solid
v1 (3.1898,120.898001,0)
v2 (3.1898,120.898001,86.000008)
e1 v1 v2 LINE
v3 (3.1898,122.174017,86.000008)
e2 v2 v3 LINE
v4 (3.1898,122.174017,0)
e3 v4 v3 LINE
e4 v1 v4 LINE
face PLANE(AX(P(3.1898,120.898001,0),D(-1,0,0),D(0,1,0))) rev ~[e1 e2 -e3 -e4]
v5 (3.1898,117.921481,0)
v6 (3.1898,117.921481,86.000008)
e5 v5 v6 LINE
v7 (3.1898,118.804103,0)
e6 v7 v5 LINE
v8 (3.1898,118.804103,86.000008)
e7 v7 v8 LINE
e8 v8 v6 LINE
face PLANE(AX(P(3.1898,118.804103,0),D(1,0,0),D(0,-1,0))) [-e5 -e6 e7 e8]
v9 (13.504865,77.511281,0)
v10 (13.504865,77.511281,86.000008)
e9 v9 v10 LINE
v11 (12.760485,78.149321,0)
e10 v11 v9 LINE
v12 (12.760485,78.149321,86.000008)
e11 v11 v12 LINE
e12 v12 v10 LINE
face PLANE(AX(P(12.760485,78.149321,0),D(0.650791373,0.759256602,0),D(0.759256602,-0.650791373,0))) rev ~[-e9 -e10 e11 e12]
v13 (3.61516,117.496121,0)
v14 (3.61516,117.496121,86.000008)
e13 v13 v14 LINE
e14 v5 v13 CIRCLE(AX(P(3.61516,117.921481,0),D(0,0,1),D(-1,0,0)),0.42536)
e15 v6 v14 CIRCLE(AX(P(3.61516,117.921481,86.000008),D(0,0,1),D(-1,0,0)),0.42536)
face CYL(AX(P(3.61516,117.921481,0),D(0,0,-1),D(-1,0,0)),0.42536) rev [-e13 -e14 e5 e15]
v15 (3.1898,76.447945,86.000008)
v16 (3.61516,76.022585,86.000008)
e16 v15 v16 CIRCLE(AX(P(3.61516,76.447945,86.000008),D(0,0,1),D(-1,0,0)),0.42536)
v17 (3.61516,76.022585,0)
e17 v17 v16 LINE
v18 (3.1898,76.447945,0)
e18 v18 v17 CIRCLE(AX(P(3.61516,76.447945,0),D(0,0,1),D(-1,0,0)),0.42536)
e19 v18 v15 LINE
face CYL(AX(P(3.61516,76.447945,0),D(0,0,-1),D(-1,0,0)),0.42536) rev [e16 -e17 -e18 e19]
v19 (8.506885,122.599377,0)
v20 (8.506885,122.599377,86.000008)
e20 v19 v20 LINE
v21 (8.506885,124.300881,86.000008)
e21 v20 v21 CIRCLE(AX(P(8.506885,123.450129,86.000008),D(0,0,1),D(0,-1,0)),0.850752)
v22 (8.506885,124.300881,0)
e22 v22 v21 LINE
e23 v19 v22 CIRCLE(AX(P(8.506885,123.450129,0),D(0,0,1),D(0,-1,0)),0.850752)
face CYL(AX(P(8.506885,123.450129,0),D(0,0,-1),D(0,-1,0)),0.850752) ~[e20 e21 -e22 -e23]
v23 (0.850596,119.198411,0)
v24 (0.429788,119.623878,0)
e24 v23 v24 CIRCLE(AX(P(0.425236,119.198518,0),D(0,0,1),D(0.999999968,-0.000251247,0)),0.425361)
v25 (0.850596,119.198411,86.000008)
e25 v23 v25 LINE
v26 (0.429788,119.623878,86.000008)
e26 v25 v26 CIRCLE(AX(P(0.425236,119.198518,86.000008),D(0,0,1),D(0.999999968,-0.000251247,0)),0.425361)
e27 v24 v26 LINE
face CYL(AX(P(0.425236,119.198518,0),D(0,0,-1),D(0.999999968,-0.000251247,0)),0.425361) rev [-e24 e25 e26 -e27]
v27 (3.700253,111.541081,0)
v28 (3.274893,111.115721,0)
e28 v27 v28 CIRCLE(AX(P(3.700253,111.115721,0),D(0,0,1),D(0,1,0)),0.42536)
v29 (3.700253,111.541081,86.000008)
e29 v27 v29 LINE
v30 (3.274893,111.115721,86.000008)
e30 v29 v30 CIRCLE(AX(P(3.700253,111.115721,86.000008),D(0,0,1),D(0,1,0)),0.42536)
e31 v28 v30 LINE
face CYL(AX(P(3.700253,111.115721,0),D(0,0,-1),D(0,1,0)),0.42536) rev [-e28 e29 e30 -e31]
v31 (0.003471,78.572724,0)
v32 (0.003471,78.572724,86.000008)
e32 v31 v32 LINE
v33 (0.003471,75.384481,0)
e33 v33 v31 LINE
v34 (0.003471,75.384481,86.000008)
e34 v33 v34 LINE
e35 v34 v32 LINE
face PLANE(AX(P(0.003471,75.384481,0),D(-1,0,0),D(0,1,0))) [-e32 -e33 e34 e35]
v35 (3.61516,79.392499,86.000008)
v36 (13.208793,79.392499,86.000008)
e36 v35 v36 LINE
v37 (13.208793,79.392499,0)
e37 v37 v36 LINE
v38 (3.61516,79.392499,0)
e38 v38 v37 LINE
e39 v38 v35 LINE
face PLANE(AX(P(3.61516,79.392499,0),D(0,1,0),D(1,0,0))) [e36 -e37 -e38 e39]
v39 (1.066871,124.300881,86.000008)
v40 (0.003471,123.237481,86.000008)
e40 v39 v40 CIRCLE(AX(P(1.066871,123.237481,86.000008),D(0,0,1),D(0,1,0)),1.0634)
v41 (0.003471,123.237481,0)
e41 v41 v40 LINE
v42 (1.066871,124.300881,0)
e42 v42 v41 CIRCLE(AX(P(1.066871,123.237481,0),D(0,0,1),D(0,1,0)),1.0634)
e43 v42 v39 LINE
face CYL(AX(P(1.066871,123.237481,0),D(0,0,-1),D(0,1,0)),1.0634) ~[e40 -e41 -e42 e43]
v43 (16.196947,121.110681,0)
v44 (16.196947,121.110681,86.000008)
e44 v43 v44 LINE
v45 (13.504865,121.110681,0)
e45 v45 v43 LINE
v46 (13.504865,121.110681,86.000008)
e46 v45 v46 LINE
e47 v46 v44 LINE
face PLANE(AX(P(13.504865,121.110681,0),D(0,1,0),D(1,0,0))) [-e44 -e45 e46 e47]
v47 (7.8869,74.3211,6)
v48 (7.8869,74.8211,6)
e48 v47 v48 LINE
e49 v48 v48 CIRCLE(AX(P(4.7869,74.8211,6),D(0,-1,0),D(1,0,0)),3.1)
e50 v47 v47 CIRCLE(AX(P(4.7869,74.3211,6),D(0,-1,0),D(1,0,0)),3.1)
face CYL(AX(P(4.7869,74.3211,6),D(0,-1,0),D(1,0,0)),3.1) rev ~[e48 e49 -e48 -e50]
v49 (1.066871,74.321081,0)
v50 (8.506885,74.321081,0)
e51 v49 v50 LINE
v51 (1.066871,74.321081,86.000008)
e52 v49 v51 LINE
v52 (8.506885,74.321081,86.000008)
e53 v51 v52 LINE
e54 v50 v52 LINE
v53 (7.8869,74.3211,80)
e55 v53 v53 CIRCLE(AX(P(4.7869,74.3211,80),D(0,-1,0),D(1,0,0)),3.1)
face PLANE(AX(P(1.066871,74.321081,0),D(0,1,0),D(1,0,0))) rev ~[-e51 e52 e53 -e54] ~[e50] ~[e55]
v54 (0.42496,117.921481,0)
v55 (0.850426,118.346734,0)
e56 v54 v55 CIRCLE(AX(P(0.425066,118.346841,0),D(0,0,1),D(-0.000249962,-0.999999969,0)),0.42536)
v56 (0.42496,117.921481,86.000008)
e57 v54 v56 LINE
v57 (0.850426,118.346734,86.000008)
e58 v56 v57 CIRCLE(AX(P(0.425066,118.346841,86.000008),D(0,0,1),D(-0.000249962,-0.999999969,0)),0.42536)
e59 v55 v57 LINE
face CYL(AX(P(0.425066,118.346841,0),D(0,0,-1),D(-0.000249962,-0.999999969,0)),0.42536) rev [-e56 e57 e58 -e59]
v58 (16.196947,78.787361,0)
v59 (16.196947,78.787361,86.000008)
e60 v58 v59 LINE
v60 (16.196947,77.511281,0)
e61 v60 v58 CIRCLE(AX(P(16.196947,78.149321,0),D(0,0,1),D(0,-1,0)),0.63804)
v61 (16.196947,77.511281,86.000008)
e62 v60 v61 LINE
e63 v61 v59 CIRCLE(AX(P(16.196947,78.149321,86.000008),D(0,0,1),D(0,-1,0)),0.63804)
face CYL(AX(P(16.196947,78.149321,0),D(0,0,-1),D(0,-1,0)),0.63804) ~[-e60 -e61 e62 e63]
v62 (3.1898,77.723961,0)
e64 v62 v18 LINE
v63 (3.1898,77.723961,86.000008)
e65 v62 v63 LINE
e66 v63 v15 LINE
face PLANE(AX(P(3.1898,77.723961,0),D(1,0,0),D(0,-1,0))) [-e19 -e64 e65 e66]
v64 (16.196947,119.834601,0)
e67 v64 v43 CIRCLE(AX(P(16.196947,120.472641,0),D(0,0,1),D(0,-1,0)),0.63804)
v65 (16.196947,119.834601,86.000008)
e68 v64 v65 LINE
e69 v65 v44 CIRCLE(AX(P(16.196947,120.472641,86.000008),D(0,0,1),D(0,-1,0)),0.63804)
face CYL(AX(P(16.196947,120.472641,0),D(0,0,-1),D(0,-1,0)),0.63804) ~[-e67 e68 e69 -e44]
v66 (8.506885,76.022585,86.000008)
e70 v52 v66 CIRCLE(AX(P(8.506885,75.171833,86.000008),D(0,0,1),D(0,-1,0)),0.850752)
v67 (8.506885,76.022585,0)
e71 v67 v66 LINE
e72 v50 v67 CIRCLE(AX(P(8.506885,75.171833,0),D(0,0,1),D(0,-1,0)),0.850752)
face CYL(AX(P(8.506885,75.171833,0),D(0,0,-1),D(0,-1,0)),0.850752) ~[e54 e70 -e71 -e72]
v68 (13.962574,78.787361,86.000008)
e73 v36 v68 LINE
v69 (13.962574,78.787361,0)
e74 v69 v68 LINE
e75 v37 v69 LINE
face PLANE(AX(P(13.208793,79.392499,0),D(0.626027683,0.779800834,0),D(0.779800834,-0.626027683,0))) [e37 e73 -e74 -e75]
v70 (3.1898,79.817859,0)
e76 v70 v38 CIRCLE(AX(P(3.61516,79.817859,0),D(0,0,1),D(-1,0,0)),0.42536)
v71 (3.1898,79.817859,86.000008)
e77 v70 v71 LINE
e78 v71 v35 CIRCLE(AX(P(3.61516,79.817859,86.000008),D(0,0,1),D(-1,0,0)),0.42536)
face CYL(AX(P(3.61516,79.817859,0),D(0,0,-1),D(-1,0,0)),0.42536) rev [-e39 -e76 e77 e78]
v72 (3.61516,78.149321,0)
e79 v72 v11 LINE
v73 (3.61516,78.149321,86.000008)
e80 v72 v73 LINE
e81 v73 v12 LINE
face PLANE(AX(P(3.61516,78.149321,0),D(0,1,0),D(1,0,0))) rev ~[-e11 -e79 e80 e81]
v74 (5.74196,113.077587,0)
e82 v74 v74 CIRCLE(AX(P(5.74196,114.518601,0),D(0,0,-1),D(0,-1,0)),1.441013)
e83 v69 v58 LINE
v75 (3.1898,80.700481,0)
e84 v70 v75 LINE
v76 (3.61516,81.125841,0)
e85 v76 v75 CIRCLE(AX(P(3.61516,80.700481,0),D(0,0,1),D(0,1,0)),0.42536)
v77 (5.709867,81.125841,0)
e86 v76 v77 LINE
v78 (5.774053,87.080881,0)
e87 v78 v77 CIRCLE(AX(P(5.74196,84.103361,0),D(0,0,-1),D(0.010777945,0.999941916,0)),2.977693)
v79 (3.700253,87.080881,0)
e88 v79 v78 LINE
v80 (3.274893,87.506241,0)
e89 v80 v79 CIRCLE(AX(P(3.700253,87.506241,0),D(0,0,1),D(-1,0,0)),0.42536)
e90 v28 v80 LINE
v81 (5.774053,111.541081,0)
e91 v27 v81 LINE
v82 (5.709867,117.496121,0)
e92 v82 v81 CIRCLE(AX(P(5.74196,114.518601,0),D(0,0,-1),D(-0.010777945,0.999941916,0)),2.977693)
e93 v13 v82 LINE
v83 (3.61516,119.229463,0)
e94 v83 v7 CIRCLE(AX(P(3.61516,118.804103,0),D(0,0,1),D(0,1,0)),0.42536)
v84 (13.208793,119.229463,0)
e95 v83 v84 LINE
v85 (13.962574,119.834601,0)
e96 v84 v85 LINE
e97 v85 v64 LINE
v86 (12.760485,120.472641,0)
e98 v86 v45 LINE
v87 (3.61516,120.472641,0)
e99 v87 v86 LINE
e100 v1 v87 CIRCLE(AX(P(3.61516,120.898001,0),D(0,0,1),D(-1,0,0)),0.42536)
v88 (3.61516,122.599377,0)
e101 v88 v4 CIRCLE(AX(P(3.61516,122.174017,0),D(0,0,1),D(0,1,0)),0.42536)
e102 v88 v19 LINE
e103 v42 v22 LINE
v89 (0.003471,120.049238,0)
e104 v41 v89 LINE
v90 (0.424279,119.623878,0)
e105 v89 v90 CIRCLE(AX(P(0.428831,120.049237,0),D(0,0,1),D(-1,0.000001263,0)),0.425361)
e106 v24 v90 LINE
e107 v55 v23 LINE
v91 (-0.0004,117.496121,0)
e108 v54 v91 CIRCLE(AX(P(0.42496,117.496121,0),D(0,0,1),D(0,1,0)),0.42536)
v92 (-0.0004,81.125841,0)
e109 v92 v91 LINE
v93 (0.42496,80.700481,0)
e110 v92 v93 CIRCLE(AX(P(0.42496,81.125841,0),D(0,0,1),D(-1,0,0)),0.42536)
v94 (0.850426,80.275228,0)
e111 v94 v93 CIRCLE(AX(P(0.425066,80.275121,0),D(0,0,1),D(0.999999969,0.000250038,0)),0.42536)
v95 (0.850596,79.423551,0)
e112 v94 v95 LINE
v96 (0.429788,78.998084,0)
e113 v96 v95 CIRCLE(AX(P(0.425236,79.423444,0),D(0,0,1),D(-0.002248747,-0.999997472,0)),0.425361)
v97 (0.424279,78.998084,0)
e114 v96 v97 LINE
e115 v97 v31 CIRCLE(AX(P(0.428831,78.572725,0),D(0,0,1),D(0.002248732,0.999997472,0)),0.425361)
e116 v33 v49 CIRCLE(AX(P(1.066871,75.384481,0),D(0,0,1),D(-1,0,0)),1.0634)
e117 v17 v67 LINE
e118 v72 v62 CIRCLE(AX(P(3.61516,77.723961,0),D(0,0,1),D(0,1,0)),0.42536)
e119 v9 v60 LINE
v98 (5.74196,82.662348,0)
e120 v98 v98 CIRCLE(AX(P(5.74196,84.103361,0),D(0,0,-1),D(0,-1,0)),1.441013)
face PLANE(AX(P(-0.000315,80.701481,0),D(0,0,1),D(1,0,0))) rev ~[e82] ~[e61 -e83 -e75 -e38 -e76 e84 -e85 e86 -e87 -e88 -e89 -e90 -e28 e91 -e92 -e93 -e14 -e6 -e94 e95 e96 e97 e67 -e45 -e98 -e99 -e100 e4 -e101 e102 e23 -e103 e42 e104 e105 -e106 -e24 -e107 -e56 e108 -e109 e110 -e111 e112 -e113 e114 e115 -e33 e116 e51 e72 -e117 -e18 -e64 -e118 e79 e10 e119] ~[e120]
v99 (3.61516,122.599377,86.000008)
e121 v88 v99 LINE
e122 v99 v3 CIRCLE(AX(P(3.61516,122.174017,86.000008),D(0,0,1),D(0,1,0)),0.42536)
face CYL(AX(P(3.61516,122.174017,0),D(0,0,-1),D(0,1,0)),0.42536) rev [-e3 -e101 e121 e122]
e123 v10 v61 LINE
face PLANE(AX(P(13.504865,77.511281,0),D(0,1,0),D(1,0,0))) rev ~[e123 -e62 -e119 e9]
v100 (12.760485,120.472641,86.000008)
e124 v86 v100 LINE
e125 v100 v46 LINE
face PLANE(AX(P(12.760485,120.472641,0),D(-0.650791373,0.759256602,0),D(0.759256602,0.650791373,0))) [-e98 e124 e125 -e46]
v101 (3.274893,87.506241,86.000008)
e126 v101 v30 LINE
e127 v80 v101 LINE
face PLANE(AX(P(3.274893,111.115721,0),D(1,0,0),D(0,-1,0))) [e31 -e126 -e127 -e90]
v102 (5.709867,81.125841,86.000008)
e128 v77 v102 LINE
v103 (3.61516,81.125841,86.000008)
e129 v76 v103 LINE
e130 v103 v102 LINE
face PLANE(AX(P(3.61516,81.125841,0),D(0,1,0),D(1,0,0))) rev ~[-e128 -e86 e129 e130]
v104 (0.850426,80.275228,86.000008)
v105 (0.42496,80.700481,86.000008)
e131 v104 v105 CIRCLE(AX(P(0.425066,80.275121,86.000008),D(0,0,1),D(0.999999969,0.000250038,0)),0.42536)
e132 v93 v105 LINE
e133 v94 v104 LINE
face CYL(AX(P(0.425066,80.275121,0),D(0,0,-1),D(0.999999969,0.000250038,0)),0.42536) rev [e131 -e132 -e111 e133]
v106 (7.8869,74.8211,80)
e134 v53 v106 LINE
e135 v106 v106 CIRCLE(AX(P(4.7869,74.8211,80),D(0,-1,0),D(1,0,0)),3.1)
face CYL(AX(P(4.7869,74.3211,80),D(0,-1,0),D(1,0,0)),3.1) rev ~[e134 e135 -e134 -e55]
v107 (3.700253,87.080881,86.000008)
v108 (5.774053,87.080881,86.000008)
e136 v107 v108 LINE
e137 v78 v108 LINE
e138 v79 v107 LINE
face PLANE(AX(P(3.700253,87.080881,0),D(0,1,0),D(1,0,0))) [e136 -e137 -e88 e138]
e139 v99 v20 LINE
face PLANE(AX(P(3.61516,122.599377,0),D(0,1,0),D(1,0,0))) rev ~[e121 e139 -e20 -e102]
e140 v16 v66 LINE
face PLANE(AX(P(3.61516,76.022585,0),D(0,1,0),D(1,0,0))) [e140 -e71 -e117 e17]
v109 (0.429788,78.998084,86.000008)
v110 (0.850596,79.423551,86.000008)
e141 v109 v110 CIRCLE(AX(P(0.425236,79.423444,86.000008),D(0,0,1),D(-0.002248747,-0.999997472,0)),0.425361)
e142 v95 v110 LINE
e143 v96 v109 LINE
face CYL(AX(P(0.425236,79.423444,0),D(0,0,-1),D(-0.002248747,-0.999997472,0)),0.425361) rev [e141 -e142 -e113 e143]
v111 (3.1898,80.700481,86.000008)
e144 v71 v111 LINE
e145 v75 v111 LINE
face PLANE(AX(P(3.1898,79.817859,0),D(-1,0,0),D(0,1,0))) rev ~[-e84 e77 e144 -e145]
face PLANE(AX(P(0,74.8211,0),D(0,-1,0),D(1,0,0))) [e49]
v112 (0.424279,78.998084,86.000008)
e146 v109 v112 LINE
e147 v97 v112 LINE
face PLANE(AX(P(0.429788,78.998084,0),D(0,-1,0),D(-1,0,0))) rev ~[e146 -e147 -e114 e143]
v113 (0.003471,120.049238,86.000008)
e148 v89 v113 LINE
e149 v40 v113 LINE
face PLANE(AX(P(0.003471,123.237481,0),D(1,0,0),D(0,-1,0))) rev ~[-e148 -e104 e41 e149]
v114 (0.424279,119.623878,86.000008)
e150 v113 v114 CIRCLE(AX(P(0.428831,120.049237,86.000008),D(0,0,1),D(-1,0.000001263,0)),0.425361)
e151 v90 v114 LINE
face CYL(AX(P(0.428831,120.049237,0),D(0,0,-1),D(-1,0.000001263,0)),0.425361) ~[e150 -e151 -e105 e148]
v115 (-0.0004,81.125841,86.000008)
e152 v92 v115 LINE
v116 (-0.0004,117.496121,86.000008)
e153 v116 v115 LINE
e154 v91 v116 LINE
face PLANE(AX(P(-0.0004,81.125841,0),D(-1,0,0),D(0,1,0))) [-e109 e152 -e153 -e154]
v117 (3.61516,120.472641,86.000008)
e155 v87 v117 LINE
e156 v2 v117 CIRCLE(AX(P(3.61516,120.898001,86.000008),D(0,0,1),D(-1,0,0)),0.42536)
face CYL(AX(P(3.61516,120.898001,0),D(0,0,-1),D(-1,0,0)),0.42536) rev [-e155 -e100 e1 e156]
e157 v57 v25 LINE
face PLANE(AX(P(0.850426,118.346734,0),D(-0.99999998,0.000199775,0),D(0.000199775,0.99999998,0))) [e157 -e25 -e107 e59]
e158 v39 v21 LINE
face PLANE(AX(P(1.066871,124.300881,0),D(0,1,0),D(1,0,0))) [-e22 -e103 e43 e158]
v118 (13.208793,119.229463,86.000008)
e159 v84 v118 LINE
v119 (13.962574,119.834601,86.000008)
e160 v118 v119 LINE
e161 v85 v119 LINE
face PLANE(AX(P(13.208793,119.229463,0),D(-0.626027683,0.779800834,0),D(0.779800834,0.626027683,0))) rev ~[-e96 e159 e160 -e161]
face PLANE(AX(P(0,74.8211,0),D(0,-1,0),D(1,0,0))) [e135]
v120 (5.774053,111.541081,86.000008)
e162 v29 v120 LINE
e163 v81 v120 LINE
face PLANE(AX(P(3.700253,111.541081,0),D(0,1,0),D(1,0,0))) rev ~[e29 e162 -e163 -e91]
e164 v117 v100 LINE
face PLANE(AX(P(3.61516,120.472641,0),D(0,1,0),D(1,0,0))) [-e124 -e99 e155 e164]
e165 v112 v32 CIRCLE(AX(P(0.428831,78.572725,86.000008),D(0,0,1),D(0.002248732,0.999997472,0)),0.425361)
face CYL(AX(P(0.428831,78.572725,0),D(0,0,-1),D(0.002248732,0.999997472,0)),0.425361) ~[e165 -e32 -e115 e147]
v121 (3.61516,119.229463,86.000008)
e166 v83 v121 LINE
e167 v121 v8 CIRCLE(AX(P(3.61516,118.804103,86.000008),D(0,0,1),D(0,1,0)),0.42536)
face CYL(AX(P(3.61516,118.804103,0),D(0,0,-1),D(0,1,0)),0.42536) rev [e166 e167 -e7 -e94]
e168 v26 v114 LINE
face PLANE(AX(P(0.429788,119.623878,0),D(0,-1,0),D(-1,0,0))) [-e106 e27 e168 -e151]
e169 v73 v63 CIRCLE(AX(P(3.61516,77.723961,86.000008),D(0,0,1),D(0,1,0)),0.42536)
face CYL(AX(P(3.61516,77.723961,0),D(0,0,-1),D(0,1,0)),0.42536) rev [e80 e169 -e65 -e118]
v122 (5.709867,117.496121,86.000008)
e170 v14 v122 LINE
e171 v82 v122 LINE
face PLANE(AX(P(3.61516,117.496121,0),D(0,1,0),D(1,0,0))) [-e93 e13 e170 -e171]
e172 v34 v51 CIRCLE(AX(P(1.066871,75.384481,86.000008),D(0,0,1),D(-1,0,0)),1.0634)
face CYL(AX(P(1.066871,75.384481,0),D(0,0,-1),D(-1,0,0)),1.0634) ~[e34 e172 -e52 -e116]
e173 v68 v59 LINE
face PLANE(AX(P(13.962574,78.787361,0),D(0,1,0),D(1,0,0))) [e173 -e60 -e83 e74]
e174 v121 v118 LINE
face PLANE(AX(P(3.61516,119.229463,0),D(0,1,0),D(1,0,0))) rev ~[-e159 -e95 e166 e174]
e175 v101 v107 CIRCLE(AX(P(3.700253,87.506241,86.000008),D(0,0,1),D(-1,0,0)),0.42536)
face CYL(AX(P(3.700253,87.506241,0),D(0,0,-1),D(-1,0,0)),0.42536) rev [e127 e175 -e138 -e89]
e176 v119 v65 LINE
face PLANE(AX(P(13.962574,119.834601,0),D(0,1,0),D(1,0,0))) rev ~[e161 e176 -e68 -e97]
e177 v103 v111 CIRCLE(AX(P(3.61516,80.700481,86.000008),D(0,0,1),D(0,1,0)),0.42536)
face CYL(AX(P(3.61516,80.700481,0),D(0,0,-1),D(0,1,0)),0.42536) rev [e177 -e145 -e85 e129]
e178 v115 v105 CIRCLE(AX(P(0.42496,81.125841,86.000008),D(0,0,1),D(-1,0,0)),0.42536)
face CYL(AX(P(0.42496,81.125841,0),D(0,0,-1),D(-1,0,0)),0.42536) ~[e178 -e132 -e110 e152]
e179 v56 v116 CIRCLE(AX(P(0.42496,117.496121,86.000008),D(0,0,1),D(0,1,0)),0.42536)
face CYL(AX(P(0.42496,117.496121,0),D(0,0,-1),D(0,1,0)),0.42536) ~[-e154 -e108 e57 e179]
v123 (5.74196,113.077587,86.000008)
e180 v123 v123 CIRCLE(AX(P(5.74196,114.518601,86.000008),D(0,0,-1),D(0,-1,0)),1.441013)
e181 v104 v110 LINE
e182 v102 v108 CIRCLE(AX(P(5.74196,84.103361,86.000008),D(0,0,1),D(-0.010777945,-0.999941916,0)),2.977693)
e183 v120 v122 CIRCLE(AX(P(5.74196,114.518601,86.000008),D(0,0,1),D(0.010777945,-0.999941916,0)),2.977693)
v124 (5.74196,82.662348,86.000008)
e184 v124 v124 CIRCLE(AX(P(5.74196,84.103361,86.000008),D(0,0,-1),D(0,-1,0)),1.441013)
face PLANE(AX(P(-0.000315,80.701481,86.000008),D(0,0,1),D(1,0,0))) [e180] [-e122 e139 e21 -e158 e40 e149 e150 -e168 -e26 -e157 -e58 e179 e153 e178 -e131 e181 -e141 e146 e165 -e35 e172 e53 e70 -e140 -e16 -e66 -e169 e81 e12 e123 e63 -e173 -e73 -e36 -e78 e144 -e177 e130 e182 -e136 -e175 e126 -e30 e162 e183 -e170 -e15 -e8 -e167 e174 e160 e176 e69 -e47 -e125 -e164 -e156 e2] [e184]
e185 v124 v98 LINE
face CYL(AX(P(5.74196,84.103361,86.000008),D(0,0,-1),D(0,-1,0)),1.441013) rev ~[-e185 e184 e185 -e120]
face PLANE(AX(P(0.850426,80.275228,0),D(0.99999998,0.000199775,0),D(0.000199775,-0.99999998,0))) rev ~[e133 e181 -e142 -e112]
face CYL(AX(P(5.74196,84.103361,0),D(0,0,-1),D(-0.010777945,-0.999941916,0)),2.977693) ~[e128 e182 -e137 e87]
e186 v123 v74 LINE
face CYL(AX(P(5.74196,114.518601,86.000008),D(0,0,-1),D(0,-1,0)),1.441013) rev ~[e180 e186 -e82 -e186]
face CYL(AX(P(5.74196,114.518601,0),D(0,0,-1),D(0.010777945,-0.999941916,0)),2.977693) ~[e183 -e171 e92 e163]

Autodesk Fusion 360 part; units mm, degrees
sketch "Sketch1" plane through (0, 0, 0) normal (0, 0, 1) x (1, 0, 0)
  line L0 (36.0187, 148.7477) -> (36.0366, 148.794)
  line L1 (65.6521, 184) -> (76.1579, 184)
  line L2 (14.9996, 189) -> (14.9996, 194.9997)
  line L3 (-0.0194, 154.2247) -> (-0.0004, 154.2001)
  line L4 (-0.0302, 138.7537) -> (-0.0004, 138.7058)
  line L5 (-0.0004, 81.3672) -> (-0.0021, 81.3657)
  line L6 (15.3997, 143.0047) -> (15.3997, 102.5015)
  line L7 (-0.0004, 173.0047) -> (-0.0004, 102.5015)
  line L8 (2.0223, 183.0092) -> (1.9964, 183.0092)
  line L9 (1.9996, 175.0047) -> (2.0001, 175.0047)
  line L10 (4.0001, 177.0042) -> (4.0009, 181.0087)
  line L11 (0.0178, 200) -> (0.0178, 185.0092)
  arc A0 (0.0178, 185.0092) -> (2.0223, 183.0092) centre (2.0178, 185.0092) ccw
  arc A1 (4.0009, 181.0087) -> (1.9964, 183.0092) centre (2.0009, 181.0092) ccw
  line L12 (16.9996, 196.9997) -> (40, 196.9997)
  arc A2 (16.9996, 196.9997) -> (14.9996, 194.9997) centre (16.9996, 194.9997) ccw
  line L13 (16.9996, 187) -> (60, 187)
  arc A3 (14.9996, 189) -> (16.9996, 187) centre (16.9996, 189) ccw
  line L14 (63.5, 190) -> (76.1579, 190)
  line L15 (14.9996, 179.1547) -> (14.9996, 175.0047)
  arc A4 (16.9996, 181.1547) -> (14.9996, 179.1547) centre (16.9996, 179.1547) ccw
  line L16 (16.9996, 173.0047) -> (26.8487, 173.0047)
  arc A5 (14.9996, 175.0047) -> (16.9996, 173.0047) centre (16.9996, 175.0047) ccw
  arc A6 (2.0001, 175.0047) -> (4.0001, 177.0042) centre (2.0001, 177.0047) ccw
  arc A7 (1.9996, 175.0047) -> (-0.0004, 173.0047) centre (1.9996, 173.0047) ccw
  arc A8 (76.1579, 184) -> (76.1579, 190) centre (76.1579, 187) ccw
  line L17 (60, 187) -> (63.5, 190)
  line L18 (62.1079, 181.1547) -> (65.6521, 184)
  line L19 (17.3997, 145.0047) -> (27.1505, 145.0047)
  line L20 (27.4996, 145.0047) -> (27.5723, 145.0156)
  arc A9 (17.3997, 145.0047) -> (15.3997, 143.0047) centre (17.3997, 143.0047) ccw
  arc A10 (27.1505, 145.0047) -> (26.8487, 173.0047) centre (26.9996, 159.0047) ccw
  line L21 (-0.0004, 123.6359) -> (-0.0021, 123.6374)
  line L22 (5.0178, 205) -> (40, 205)
  arc A11 (5.0178, 205) -> (0.0178, 200) centre (5.0178, 200) ccw
  arc A12 (40, 196.9997) -> (40, 205) centre (40, 200.9999) ccw
  line L23 (16.9996, 181.1547) -> (62.1079, 181.1547)
  line L24 (27.4996, 29.9953) -> (27.5723, 29.9844)
  line L25 (16.9996, 1.9953) -> (26.8487, 1.9953)
  line L26 (16.9996, -12) -> (60, -12)
  line L27 (2.0223, -8.0092) -> (1.9964, -8.0092)
  line L28 (65.6521, -9) -> (76.1579, -9)
  arc A13 (1.9964, -8.0092) -> (4.0009, -6.0087) centre (2.0009, -6.0092) ccw
  line L29 (16.9996, -21.9997) -> (40, -21.9997)
  line L30 (1.9996, -0.0047) -> (2.0001, -0.0047)
  arc A14 (15.3997, 31.9953) -> (17.3997, 29.9953) centre (17.3997, 31.9953) ccw
  line L31 (36.0187, 26.2523) -> (36.0366, 26.206)
  arc A15 (0.0178, -25) -> (5.0178, -30) centre (5.0178, -25) ccw
  arc A16 (26.8487, 1.9953) -> (27.1505, 29.9953) centre (26.9996, 15.9953) ccw
  line L32 (4.0001, -2.0042) -> (4.0009, -6.0087)
  arc A17 (2.0223, -8.0092) -> (0.0178, -10.0092) centre (2.0178, -10.0092) ccw
  line L33 (16.9996, -6.1547) -> (62.1079, -6.1547)
  line L34 (5.0178, -30) -> (40, -30)
  arc A18 (16.9996, -12) -> (14.9996, -14) centre (16.9996, -14) ccw
  line L35 (14.9996, -4.1547) -> (14.9996, -0.0047)
  line L36 (63.5, -15) -> (76.1579, -15)
  arc A19 (40, -30) -> (40, -21.9997) centre (40, -25.9999) ccw
  arc A20 (76.1579, -15) -> (76.1579, -9) centre (76.1579, -12) ccw
  arc A21 (14.9996, -19.9997) -> (16.9996, -21.9997) centre (16.9996, -19.9997) ccw
  arc A22 (4.0001, -2.0042) -> (2.0001, -0.0047) centre (2.0001, -2.0047) ccw
  line L37 (-0.0004, 51.3641) -> (-0.0021, 51.3626)
  line L38 (17.3997, 29.9953) -> (27.1505, 29.9953)
  line L39 (60, -12) -> (63.5, -15)
  line L40 (-0.0004, 1.9953) -> (-0.0004, 72.4985)
  line L41 (0.0178, -25) -> (0.0178, -10.0092)
  line L42 (-0.0194, 20.7753) -> (-0.0004, 20.7999)
  line L43 (14.9996, -14) -> (14.9996, -19.9997)
  arc A23 (16.9996, 1.9953) -> (14.9996, -0.0047) centre (16.9996, -0.0047) ccw
  line L44 (62.1079, -6.1547) -> (65.6521, -9)
  line L45 (-0.0302, 36.2463) -> (-0.0004, 36.2942)
  arc A24 (-0.0004, 1.9953) -> (1.9996, -0.0047) centre (1.9996, 1.9953) ccw
  arc A25 (14.9996, -4.1547) -> (16.9996, -6.1547) centre (16.9996, -4.1547) ccw
  line L46 (15.3997, 31.9953) -> (15.3997, 72.4985)
  line L47 (-0.0004, 102.5015) -> (-0.0004, 72.4985)
  line L48 (15.3997, 102.5015) -> (15.3997, 72.4985)
  circle A26 centre (26.9996, 15.9953) radius 6.7755
  circle A27 centre (26.9996, 159.0047) radius 6.7755
  dimension "d8" = 2
  dimension "d9" = 2
  dimension "d11" = 2
  dimension "d13" = 2
  dimension "d18" = 2
  dimension "d19" = 2
  dimension "d27" = 2
  dimension "d28" = 2
  dimension "d34" = 3
  dimension "d35" = 2
  dimension "d40" = 5
  dimension "d41" = 4.0002
  dimension "d52" = 14.0008
  dimension "d55" = 235
  dimension "d57" = 14.0008
  dimension "d59" = 13.551
  dimension "d61" = 45.9953
  dimension "d62" = 45.9953
  dimension "d63" = 27
  dimension "d64" = 27
  dimension "d65" = 13.551
extrude "Extrude4" add sketch "Sketch1" along normal blind 404.3634 contours L1 L2 L6 L7 L8 L10 L11 A0 A1 L12 A2 L13 A3 L14 L15 A4 L16 A5 A6 A7 A8 L17 L18 L19 A9 A10 L22 A11 A12 L23 L25 L26 L27 L28 A13 L29 A14 A15 A16 L32 A17 L33 L34 A18 L35 L36 A19 A20 A21 A22 L38 L39 L40 L41 L43 A23 L44 A24 A25 L46 L47 L48 | A26 | A27
sketch "Sketch2" plane through (0, 0, 404.3634) normal (0, 0, 1) x (-1, 0, 0)
  line L0 (-17.3997, -145.0047) -> (-27.1505, -145.0047)
  arc A0 (-27.1505, -145.0047) -> (-26.8487, -173.0047) centre (-26.9996, -159.0047) ccw
  line L1 (-26.8487, -173.0047) -> (-16.9996, -173.0047)
  arc A1 (-14.9996, -175.0047) -> (-16.9996, -173.0047) centre (-16.9996, -175.0047) ccw
  line L2 (-14.9996, -175.0047) -> (-14.9996, -179.1547)
  arc A2 (-16.9996, -181.1547) -> (-14.9996, -179.1547) centre (-16.9996, -179.1547) ccw
  line L3 (-16.9996, -181.1547) -> (-62.1079, -181.1547)
  line L4 (-62.1079, -181.1547) -> (-65.6521, -184)
  line L5 (-65.6521, -184) -> (-76.1579, -184)
  arc A3 (-76.1579, -184) -> (-76.1579, -190) centre (-76.1579, -187) ccw
  line L6 (-76.1579, -190) -> (-63.5, -190)
  line L7 (-63.5, -190) -> (-60, -187)
  line L8 (-60, -187) -> (-16.9996, -187)
  arc A4 (-14.9996, -189) -> (-16.9996, -187) centre (-16.9996, -189) ccw
  line L9 (-14.9996, -189) -> (-14.9996, -194.9997)
  arc A5 (-16.9996, -196.9997) -> (-14.9996, -194.9997) centre (-16.9996, -194.9997) ccw
  line L10 (-16.9996, -196.9997) -> (-40, -196.9997)
  arc A6 (-40, -196.9997) -> (-40, -205) centre (-40, -200.9999) ccw
  line L11 (-40, -205) -> (-5.0178, -205)
  arc A7 (-5.0178, -205) -> (-0.0178, -200) centre (-5.0178, -200) ccw
  line L12 (-0.0178, -200) -> (-0.0178, -185.0092)
  arc A8 (-0.0178, -185.0092) -> (-2.0223, -183.0092) centre (-2.0178, -185.0092) ccw
  line L13 (-2.0223, -183.0092) -> (-1.9964, -183.0092)
  arc A9 (-4.0009, -181.0087) -> (-1.9964, -183.0092) centre (-2.0009, -181.0092) ccw
  line L14 (-4.0009, -181.0087) -> (-4.0001, -177.0042)
  arc A10 (-2.0001, -175.0047) -> (-4.0001, -177.0042) centre (-2.0001, -177.0047) ccw
  line L15 (-2.0001, -175.0047) -> (-1.9996, -175.0047)
  arc A11 (-1.9996, -175.0047) -> (0.0004, -173.0047) centre (-1.9996, -173.0047) ccw
  line L16 (0.0004, -173.0047) -> (0.0004, -102.5015)
  line L17 (0.0004, -102.5015) -> (0.0004, -72.4985)
  line L18 (0.0004, -72.4985) -> (0.0004, -1.9953)
  arc A12 (0.0004, -1.9953) -> (-1.9996, 0.0047) centre (-1.9996, -1.9953) ccw
  line L19 (-1.9996, 0.0047) -> (-2.0001, 0.0047)
  arc A13 (-4.0001, 2.0042) -> (-2.0001, 0.0047) centre (-2.0001, 2.0047) ccw
  line L20 (-4.0001, 2.0042) -> (-4.0009, 6.0087)
  arc A14 (-1.9964, 8.0092) -> (-4.0009, 6.0087) centre (-2.0009, 6.0092) ccw
  line L21 (-1.9964, 8.0092) -> (-2.0223, 8.0092)
  arc A15 (-2.0223, 8.0092) -> (-0.0178, 10.0092) centre (-2.0178, 10.0092) ccw
  line L22 (-0.0178, 10.0092) -> (-0.0178, 25)
  arc A16 (-0.0178, 25) -> (-5.0178, 30) centre (-5.0178, 25) ccw
  line L23 (-5.0178, 30) -> (-40, 30)
  arc A17 (-40, 30) -> (-40, 21.9997) centre (-40, 25.9999) ccw
  line L24 (-40, 21.9997) -> (-16.9996, 21.9997)
  arc A18 (-14.9996, 19.9997) -> (-16.9996, 21.9997) centre (-16.9996, 19.9997) ccw
  line L25 (-14.9996, 19.9997) -> (-14.9996, 14)
  arc A19 (-16.9996, 12) -> (-14.9996, 14) centre (-16.9996, 14) ccw
  line L26 (-16.9996, 12) -> (-60, 12)
  line L27 (-60, 12) -> (-63.5, 15)
  line L28 (-63.5, 15) -> (-76.1579, 15)
  arc A20 (-76.1579, 15) -> (-76.1579, 9) centre (-76.1579, 12) ccw
  line L29 (-76.1579, 9) -> (-65.6521, 9)
  line L30 (-65.6521, 9) -> (-62.1079, 6.1547)
  line L31 (-62.1079, 6.1547) -> (-16.9996, 6.1547)
  arc A21 (-14.9996, 4.1547) -> (-16.9996, 6.1547) centre (-16.9996, 4.1547) ccw
  line L32 (-14.9996, 4.1547) -> (-14.9996, 0.0047)
  arc A22 (-16.9996, -1.9953) -> (-14.9996, 0.0047) centre (-16.9996, 0.0047) ccw
  line L33 (-16.9996, -1.9953) -> (-26.8487, -1.9953)
  arc A23 (-26.8487, -1.9953) -> (-27.1505, -29.9953) centre (-26.9996, -15.9953) ccw
  line L34 (-27.1505, -29.9953) -> (-17.3997, -29.9953)
  arc A24 (-15.3997, -31.9953) -> (-17.3997, -29.9953) centre (-17.3997, -31.9953) ccw
  line L35 (-15.3997, -31.9953) -> (-15.3997, -143.0047)
  arc A25 (-17.3997, -145.0047) -> (-15.3997, -143.0047) centre (-17.3997, -143.0047) ccw
  circle A26 centre (-26.9996, -15.9953) radius 6.7755
  circle A27 centre (-26.9996, -159.0047) radius 6.7755
  dimension "d66" = 13.551
  dimension "d67" = 13.551
hole "Hole1" at (26.9996, 159.0047, 404.3634) direction (0, 0, -1) diameter 13.551 end through all
sketch "Sketch3" plane through (0, 0, 404.3634) normal (0, 0, 1) x (-1, 0, 0)
  circle A0 centre (-26.9996, -159.0047) radius 6.7755
  line L0 (-17.3997, -145.0047) -> (-27.1505, -145.0047)
  arc A1 (-27.1505, -145.0047) -> (-26.8487, -173.0047) centre (-26.9996, -159.0047) ccw
  line L1 (-26.8487, -173.0047) -> (-16.9996, -173.0047)
  arc A2 (-14.9996, -175.0047) -> (-16.9996, -173.0047) centre (-16.9996, -175.0047) ccw
  line L2 (-14.9996, -175.0047) -> (-14.9996, -179.1547)
  arc A3 (-16.9996, -181.1547) -> (-14.9996, -179.1547) centre (-16.9996, -179.1547) ccw
  line L3 (-16.9996, -181.1547) -> (-62.1079, -181.1547)
  line L4 (-62.1079, -181.1547) -> (-65.6521, -184)
  line L5 (-65.6521, -184) -> (-76.1579, -184)
  arc A4 (-76.1579, -184) -> (-76.1579, -190) centre (-76.1579, -187) ccw
  line L6 (-76.1579, -190) -> (-63.5, -190)
  line L7 (-63.5, -190) -> (-60, -187)
  line L8 (-60, -187) -> (-16.9996, -187)
  arc A5 (-14.9996, -189) -> (-16.9996, -187) centre (-16.9996, -189) ccw
  line L9 (-14.9996, -189) -> (-14.9996, -194.9997)
  arc A6 (-16.9996, -196.9997) -> (-14.9996, -194.9997) centre (-16.9996, -194.9997) ccw
  line L10 (-16.9996, -196.9997) -> (-40, -196.9997)
  arc A7 (-40, -196.9997) -> (-40, -205) centre (-40, -200.9999) ccw
  line L11 (-40, -205) -> (-5.0178, -205)
  arc A8 (-5.0178, -205) -> (-0.0178, -200) centre (-5.0178, -200) ccw
  line L12 (-0.0178, -200) -> (-0.0178, -185.0092)
  arc A9 (-0.0178, -185.0092) -> (-2.0223, -183.0092) centre (-2.0178, -185.0092) ccw
  line L13 (-2.0223, -183.0092) -> (-1.9964, -183.0092)
  arc A10 (-4.0009, -181.0087) -> (-1.9964, -183.0092) centre (-2.0009, -181.0092) ccw
  line L14 (-4.0009, -181.0087) -> (-4.0001, -177.0042)
  arc A11 (-2.0001, -175.0047) -> (-4.0001, -177.0042) centre (-2.0001, -177.0047) ccw
  line L15 (-2.0001, -175.0047) -> (-1.9996, -175.0047)
  arc A12 (-1.9996, -175.0047) -> (0.0004, -173.0047) centre (-1.9996, -173.0047) ccw
  line L16 (0.0004, -173.0047) -> (0.0004, -102.5015)
  line L17 (0.0004, -102.5015) -> (0.0004, -72.4985)
  line L18 (0.0004, -72.4985) -> (0.0004, -1.9953)
  arc A13 (0.0004, -1.9953) -> (-1.9996, 0.0047) centre (-1.9996, -1.9953) ccw
  line L19 (-1.9996, 0.0047) -> (-2.0001, 0.0047)
  arc A14 (-4.0001, 2.0042) -> (-2.0001, 0.0047) centre (-2.0001, 2.0047) ccw
  line L20 (-4.0001, 2.0042) -> (-4.0009, 6.0087)
  arc A15 (-1.9964, 8.0092) -> (-4.0009, 6.0087) centre (-2.0009, 6.0092) ccw
  line L21 (-1.9964, 8.0092) -> (-2.0223, 8.0092)
  arc A16 (-2.0223, 8.0092) -> (-0.0178, 10.0092) centre (-2.0178, 10.0092) ccw
  line L22 (-0.0178, 10.0092) -> (-0.0178, 25)
  arc A17 (-0.0178, 25) -> (-5.0178, 30) centre (-5.0178, 25) ccw
  line L23 (-5.0178, 30) -> (-40, 30)
  arc A18 (-40, 30) -> (-40, 21.9997) centre (-40, 25.9999) ccw
  line L24 (-40, 21.9997) -> (-16.9996, 21.9997)
  arc A19 (-14.9996, 19.9997) -> (-16.9996, 21.9997) centre (-16.9996, 19.9997) ccw
  line L25 (-14.9996, 19.9997) -> (-14.9996, 14)
  arc A20 (-16.9996, 12) -> (-14.9996, 14) centre (-16.9996, 14) ccw
  line L26 (-16.9996, 12) -> (-60, 12)
  line L27 (-60, 12) -> (-63.5, 15)
  line L28 (-63.5, 15) -> (-76.1579, 15)
  arc A21 (-76.1579, 15) -> (-76.1579, 9) centre (-76.1579, 12) ccw
  line L29 (-76.1579, 9) -> (-65.6521, 9)
  line L30 (-65.6521, 9) -> (-62.1079, 6.1547)
  line L31 (-62.1079, 6.1547) -> (-16.9996, 6.1547)
  arc A22 (-14.9996, 4.1547) -> (-16.9996, 6.1547) centre (-16.9996, 4.1547) ccw
  line L32 (-14.9996, 4.1547) -> (-14.9996, 0.0047)
  arc A23 (-16.9996, -1.9953) -> (-14.9996, 0.0047) centre (-16.9996, 0.0047) ccw
  line L33 (-16.9996, -1.9953) -> (-26.8487, -1.9953)
  arc A24 (-26.8487, -1.9953) -> (-27.1505, -29.9953) centre (-26.9996, -15.9953) ccw
  line L34 (-27.1505, -29.9953) -> (-17.3997, -29.9953)
  arc A25 (-15.3997, -31.9953) -> (-17.3997, -29.9953) centre (-17.3997, -31.9953) ccw
  line L35 (-15.3997, -31.9953) -> (-15.3997, -143.0047)
  arc A26 (-17.3997, -145.0047) -> (-15.3997, -143.0047) centre (-17.3997, -143.0047) ccw
  circle A27 centre (-26.9996, -15.9953) radius 6.7755
  dimension "d70" = 13.551
hole "Hole2" at (26.9996, 15.9953, 404.3634) direction (0, 0, -1) diameter 13.551 end through all
scale "Scale3" factor 0.21268 about (-0.0004, 102.5015, 0) bodies 1
sketch "Sketch4" plane through (0, 74.3211, 0) normal (0, -1, 0) x (1, 0, 0)
  line L0 (1.0669, 0) -> (8.5069, 0)
  line L1 (8.5069, 0) -> (8.5069, 86)
  line L2 (8.5069, 86) -> (1.0669, 86)
  line L3 (1.0669, 86) -> (1.0669, 0)
  circle A0 centre (4.7869, 80) radius 3.1
  circle A1 centre (4.7869, 6) radius 3.1
  dimension "d73" = 6.2
  dimension "d74" = 7.44
  dimension "d75" = 3.72
  dimension "d76" = 6
  dimension "d77" = 6.2
  dimension "d78" = 3.72
  dimension "d79" = 6
extrude "Extrude5" cut sketch "Sketch4" against normal blind 0.5 contours A0 | A1
